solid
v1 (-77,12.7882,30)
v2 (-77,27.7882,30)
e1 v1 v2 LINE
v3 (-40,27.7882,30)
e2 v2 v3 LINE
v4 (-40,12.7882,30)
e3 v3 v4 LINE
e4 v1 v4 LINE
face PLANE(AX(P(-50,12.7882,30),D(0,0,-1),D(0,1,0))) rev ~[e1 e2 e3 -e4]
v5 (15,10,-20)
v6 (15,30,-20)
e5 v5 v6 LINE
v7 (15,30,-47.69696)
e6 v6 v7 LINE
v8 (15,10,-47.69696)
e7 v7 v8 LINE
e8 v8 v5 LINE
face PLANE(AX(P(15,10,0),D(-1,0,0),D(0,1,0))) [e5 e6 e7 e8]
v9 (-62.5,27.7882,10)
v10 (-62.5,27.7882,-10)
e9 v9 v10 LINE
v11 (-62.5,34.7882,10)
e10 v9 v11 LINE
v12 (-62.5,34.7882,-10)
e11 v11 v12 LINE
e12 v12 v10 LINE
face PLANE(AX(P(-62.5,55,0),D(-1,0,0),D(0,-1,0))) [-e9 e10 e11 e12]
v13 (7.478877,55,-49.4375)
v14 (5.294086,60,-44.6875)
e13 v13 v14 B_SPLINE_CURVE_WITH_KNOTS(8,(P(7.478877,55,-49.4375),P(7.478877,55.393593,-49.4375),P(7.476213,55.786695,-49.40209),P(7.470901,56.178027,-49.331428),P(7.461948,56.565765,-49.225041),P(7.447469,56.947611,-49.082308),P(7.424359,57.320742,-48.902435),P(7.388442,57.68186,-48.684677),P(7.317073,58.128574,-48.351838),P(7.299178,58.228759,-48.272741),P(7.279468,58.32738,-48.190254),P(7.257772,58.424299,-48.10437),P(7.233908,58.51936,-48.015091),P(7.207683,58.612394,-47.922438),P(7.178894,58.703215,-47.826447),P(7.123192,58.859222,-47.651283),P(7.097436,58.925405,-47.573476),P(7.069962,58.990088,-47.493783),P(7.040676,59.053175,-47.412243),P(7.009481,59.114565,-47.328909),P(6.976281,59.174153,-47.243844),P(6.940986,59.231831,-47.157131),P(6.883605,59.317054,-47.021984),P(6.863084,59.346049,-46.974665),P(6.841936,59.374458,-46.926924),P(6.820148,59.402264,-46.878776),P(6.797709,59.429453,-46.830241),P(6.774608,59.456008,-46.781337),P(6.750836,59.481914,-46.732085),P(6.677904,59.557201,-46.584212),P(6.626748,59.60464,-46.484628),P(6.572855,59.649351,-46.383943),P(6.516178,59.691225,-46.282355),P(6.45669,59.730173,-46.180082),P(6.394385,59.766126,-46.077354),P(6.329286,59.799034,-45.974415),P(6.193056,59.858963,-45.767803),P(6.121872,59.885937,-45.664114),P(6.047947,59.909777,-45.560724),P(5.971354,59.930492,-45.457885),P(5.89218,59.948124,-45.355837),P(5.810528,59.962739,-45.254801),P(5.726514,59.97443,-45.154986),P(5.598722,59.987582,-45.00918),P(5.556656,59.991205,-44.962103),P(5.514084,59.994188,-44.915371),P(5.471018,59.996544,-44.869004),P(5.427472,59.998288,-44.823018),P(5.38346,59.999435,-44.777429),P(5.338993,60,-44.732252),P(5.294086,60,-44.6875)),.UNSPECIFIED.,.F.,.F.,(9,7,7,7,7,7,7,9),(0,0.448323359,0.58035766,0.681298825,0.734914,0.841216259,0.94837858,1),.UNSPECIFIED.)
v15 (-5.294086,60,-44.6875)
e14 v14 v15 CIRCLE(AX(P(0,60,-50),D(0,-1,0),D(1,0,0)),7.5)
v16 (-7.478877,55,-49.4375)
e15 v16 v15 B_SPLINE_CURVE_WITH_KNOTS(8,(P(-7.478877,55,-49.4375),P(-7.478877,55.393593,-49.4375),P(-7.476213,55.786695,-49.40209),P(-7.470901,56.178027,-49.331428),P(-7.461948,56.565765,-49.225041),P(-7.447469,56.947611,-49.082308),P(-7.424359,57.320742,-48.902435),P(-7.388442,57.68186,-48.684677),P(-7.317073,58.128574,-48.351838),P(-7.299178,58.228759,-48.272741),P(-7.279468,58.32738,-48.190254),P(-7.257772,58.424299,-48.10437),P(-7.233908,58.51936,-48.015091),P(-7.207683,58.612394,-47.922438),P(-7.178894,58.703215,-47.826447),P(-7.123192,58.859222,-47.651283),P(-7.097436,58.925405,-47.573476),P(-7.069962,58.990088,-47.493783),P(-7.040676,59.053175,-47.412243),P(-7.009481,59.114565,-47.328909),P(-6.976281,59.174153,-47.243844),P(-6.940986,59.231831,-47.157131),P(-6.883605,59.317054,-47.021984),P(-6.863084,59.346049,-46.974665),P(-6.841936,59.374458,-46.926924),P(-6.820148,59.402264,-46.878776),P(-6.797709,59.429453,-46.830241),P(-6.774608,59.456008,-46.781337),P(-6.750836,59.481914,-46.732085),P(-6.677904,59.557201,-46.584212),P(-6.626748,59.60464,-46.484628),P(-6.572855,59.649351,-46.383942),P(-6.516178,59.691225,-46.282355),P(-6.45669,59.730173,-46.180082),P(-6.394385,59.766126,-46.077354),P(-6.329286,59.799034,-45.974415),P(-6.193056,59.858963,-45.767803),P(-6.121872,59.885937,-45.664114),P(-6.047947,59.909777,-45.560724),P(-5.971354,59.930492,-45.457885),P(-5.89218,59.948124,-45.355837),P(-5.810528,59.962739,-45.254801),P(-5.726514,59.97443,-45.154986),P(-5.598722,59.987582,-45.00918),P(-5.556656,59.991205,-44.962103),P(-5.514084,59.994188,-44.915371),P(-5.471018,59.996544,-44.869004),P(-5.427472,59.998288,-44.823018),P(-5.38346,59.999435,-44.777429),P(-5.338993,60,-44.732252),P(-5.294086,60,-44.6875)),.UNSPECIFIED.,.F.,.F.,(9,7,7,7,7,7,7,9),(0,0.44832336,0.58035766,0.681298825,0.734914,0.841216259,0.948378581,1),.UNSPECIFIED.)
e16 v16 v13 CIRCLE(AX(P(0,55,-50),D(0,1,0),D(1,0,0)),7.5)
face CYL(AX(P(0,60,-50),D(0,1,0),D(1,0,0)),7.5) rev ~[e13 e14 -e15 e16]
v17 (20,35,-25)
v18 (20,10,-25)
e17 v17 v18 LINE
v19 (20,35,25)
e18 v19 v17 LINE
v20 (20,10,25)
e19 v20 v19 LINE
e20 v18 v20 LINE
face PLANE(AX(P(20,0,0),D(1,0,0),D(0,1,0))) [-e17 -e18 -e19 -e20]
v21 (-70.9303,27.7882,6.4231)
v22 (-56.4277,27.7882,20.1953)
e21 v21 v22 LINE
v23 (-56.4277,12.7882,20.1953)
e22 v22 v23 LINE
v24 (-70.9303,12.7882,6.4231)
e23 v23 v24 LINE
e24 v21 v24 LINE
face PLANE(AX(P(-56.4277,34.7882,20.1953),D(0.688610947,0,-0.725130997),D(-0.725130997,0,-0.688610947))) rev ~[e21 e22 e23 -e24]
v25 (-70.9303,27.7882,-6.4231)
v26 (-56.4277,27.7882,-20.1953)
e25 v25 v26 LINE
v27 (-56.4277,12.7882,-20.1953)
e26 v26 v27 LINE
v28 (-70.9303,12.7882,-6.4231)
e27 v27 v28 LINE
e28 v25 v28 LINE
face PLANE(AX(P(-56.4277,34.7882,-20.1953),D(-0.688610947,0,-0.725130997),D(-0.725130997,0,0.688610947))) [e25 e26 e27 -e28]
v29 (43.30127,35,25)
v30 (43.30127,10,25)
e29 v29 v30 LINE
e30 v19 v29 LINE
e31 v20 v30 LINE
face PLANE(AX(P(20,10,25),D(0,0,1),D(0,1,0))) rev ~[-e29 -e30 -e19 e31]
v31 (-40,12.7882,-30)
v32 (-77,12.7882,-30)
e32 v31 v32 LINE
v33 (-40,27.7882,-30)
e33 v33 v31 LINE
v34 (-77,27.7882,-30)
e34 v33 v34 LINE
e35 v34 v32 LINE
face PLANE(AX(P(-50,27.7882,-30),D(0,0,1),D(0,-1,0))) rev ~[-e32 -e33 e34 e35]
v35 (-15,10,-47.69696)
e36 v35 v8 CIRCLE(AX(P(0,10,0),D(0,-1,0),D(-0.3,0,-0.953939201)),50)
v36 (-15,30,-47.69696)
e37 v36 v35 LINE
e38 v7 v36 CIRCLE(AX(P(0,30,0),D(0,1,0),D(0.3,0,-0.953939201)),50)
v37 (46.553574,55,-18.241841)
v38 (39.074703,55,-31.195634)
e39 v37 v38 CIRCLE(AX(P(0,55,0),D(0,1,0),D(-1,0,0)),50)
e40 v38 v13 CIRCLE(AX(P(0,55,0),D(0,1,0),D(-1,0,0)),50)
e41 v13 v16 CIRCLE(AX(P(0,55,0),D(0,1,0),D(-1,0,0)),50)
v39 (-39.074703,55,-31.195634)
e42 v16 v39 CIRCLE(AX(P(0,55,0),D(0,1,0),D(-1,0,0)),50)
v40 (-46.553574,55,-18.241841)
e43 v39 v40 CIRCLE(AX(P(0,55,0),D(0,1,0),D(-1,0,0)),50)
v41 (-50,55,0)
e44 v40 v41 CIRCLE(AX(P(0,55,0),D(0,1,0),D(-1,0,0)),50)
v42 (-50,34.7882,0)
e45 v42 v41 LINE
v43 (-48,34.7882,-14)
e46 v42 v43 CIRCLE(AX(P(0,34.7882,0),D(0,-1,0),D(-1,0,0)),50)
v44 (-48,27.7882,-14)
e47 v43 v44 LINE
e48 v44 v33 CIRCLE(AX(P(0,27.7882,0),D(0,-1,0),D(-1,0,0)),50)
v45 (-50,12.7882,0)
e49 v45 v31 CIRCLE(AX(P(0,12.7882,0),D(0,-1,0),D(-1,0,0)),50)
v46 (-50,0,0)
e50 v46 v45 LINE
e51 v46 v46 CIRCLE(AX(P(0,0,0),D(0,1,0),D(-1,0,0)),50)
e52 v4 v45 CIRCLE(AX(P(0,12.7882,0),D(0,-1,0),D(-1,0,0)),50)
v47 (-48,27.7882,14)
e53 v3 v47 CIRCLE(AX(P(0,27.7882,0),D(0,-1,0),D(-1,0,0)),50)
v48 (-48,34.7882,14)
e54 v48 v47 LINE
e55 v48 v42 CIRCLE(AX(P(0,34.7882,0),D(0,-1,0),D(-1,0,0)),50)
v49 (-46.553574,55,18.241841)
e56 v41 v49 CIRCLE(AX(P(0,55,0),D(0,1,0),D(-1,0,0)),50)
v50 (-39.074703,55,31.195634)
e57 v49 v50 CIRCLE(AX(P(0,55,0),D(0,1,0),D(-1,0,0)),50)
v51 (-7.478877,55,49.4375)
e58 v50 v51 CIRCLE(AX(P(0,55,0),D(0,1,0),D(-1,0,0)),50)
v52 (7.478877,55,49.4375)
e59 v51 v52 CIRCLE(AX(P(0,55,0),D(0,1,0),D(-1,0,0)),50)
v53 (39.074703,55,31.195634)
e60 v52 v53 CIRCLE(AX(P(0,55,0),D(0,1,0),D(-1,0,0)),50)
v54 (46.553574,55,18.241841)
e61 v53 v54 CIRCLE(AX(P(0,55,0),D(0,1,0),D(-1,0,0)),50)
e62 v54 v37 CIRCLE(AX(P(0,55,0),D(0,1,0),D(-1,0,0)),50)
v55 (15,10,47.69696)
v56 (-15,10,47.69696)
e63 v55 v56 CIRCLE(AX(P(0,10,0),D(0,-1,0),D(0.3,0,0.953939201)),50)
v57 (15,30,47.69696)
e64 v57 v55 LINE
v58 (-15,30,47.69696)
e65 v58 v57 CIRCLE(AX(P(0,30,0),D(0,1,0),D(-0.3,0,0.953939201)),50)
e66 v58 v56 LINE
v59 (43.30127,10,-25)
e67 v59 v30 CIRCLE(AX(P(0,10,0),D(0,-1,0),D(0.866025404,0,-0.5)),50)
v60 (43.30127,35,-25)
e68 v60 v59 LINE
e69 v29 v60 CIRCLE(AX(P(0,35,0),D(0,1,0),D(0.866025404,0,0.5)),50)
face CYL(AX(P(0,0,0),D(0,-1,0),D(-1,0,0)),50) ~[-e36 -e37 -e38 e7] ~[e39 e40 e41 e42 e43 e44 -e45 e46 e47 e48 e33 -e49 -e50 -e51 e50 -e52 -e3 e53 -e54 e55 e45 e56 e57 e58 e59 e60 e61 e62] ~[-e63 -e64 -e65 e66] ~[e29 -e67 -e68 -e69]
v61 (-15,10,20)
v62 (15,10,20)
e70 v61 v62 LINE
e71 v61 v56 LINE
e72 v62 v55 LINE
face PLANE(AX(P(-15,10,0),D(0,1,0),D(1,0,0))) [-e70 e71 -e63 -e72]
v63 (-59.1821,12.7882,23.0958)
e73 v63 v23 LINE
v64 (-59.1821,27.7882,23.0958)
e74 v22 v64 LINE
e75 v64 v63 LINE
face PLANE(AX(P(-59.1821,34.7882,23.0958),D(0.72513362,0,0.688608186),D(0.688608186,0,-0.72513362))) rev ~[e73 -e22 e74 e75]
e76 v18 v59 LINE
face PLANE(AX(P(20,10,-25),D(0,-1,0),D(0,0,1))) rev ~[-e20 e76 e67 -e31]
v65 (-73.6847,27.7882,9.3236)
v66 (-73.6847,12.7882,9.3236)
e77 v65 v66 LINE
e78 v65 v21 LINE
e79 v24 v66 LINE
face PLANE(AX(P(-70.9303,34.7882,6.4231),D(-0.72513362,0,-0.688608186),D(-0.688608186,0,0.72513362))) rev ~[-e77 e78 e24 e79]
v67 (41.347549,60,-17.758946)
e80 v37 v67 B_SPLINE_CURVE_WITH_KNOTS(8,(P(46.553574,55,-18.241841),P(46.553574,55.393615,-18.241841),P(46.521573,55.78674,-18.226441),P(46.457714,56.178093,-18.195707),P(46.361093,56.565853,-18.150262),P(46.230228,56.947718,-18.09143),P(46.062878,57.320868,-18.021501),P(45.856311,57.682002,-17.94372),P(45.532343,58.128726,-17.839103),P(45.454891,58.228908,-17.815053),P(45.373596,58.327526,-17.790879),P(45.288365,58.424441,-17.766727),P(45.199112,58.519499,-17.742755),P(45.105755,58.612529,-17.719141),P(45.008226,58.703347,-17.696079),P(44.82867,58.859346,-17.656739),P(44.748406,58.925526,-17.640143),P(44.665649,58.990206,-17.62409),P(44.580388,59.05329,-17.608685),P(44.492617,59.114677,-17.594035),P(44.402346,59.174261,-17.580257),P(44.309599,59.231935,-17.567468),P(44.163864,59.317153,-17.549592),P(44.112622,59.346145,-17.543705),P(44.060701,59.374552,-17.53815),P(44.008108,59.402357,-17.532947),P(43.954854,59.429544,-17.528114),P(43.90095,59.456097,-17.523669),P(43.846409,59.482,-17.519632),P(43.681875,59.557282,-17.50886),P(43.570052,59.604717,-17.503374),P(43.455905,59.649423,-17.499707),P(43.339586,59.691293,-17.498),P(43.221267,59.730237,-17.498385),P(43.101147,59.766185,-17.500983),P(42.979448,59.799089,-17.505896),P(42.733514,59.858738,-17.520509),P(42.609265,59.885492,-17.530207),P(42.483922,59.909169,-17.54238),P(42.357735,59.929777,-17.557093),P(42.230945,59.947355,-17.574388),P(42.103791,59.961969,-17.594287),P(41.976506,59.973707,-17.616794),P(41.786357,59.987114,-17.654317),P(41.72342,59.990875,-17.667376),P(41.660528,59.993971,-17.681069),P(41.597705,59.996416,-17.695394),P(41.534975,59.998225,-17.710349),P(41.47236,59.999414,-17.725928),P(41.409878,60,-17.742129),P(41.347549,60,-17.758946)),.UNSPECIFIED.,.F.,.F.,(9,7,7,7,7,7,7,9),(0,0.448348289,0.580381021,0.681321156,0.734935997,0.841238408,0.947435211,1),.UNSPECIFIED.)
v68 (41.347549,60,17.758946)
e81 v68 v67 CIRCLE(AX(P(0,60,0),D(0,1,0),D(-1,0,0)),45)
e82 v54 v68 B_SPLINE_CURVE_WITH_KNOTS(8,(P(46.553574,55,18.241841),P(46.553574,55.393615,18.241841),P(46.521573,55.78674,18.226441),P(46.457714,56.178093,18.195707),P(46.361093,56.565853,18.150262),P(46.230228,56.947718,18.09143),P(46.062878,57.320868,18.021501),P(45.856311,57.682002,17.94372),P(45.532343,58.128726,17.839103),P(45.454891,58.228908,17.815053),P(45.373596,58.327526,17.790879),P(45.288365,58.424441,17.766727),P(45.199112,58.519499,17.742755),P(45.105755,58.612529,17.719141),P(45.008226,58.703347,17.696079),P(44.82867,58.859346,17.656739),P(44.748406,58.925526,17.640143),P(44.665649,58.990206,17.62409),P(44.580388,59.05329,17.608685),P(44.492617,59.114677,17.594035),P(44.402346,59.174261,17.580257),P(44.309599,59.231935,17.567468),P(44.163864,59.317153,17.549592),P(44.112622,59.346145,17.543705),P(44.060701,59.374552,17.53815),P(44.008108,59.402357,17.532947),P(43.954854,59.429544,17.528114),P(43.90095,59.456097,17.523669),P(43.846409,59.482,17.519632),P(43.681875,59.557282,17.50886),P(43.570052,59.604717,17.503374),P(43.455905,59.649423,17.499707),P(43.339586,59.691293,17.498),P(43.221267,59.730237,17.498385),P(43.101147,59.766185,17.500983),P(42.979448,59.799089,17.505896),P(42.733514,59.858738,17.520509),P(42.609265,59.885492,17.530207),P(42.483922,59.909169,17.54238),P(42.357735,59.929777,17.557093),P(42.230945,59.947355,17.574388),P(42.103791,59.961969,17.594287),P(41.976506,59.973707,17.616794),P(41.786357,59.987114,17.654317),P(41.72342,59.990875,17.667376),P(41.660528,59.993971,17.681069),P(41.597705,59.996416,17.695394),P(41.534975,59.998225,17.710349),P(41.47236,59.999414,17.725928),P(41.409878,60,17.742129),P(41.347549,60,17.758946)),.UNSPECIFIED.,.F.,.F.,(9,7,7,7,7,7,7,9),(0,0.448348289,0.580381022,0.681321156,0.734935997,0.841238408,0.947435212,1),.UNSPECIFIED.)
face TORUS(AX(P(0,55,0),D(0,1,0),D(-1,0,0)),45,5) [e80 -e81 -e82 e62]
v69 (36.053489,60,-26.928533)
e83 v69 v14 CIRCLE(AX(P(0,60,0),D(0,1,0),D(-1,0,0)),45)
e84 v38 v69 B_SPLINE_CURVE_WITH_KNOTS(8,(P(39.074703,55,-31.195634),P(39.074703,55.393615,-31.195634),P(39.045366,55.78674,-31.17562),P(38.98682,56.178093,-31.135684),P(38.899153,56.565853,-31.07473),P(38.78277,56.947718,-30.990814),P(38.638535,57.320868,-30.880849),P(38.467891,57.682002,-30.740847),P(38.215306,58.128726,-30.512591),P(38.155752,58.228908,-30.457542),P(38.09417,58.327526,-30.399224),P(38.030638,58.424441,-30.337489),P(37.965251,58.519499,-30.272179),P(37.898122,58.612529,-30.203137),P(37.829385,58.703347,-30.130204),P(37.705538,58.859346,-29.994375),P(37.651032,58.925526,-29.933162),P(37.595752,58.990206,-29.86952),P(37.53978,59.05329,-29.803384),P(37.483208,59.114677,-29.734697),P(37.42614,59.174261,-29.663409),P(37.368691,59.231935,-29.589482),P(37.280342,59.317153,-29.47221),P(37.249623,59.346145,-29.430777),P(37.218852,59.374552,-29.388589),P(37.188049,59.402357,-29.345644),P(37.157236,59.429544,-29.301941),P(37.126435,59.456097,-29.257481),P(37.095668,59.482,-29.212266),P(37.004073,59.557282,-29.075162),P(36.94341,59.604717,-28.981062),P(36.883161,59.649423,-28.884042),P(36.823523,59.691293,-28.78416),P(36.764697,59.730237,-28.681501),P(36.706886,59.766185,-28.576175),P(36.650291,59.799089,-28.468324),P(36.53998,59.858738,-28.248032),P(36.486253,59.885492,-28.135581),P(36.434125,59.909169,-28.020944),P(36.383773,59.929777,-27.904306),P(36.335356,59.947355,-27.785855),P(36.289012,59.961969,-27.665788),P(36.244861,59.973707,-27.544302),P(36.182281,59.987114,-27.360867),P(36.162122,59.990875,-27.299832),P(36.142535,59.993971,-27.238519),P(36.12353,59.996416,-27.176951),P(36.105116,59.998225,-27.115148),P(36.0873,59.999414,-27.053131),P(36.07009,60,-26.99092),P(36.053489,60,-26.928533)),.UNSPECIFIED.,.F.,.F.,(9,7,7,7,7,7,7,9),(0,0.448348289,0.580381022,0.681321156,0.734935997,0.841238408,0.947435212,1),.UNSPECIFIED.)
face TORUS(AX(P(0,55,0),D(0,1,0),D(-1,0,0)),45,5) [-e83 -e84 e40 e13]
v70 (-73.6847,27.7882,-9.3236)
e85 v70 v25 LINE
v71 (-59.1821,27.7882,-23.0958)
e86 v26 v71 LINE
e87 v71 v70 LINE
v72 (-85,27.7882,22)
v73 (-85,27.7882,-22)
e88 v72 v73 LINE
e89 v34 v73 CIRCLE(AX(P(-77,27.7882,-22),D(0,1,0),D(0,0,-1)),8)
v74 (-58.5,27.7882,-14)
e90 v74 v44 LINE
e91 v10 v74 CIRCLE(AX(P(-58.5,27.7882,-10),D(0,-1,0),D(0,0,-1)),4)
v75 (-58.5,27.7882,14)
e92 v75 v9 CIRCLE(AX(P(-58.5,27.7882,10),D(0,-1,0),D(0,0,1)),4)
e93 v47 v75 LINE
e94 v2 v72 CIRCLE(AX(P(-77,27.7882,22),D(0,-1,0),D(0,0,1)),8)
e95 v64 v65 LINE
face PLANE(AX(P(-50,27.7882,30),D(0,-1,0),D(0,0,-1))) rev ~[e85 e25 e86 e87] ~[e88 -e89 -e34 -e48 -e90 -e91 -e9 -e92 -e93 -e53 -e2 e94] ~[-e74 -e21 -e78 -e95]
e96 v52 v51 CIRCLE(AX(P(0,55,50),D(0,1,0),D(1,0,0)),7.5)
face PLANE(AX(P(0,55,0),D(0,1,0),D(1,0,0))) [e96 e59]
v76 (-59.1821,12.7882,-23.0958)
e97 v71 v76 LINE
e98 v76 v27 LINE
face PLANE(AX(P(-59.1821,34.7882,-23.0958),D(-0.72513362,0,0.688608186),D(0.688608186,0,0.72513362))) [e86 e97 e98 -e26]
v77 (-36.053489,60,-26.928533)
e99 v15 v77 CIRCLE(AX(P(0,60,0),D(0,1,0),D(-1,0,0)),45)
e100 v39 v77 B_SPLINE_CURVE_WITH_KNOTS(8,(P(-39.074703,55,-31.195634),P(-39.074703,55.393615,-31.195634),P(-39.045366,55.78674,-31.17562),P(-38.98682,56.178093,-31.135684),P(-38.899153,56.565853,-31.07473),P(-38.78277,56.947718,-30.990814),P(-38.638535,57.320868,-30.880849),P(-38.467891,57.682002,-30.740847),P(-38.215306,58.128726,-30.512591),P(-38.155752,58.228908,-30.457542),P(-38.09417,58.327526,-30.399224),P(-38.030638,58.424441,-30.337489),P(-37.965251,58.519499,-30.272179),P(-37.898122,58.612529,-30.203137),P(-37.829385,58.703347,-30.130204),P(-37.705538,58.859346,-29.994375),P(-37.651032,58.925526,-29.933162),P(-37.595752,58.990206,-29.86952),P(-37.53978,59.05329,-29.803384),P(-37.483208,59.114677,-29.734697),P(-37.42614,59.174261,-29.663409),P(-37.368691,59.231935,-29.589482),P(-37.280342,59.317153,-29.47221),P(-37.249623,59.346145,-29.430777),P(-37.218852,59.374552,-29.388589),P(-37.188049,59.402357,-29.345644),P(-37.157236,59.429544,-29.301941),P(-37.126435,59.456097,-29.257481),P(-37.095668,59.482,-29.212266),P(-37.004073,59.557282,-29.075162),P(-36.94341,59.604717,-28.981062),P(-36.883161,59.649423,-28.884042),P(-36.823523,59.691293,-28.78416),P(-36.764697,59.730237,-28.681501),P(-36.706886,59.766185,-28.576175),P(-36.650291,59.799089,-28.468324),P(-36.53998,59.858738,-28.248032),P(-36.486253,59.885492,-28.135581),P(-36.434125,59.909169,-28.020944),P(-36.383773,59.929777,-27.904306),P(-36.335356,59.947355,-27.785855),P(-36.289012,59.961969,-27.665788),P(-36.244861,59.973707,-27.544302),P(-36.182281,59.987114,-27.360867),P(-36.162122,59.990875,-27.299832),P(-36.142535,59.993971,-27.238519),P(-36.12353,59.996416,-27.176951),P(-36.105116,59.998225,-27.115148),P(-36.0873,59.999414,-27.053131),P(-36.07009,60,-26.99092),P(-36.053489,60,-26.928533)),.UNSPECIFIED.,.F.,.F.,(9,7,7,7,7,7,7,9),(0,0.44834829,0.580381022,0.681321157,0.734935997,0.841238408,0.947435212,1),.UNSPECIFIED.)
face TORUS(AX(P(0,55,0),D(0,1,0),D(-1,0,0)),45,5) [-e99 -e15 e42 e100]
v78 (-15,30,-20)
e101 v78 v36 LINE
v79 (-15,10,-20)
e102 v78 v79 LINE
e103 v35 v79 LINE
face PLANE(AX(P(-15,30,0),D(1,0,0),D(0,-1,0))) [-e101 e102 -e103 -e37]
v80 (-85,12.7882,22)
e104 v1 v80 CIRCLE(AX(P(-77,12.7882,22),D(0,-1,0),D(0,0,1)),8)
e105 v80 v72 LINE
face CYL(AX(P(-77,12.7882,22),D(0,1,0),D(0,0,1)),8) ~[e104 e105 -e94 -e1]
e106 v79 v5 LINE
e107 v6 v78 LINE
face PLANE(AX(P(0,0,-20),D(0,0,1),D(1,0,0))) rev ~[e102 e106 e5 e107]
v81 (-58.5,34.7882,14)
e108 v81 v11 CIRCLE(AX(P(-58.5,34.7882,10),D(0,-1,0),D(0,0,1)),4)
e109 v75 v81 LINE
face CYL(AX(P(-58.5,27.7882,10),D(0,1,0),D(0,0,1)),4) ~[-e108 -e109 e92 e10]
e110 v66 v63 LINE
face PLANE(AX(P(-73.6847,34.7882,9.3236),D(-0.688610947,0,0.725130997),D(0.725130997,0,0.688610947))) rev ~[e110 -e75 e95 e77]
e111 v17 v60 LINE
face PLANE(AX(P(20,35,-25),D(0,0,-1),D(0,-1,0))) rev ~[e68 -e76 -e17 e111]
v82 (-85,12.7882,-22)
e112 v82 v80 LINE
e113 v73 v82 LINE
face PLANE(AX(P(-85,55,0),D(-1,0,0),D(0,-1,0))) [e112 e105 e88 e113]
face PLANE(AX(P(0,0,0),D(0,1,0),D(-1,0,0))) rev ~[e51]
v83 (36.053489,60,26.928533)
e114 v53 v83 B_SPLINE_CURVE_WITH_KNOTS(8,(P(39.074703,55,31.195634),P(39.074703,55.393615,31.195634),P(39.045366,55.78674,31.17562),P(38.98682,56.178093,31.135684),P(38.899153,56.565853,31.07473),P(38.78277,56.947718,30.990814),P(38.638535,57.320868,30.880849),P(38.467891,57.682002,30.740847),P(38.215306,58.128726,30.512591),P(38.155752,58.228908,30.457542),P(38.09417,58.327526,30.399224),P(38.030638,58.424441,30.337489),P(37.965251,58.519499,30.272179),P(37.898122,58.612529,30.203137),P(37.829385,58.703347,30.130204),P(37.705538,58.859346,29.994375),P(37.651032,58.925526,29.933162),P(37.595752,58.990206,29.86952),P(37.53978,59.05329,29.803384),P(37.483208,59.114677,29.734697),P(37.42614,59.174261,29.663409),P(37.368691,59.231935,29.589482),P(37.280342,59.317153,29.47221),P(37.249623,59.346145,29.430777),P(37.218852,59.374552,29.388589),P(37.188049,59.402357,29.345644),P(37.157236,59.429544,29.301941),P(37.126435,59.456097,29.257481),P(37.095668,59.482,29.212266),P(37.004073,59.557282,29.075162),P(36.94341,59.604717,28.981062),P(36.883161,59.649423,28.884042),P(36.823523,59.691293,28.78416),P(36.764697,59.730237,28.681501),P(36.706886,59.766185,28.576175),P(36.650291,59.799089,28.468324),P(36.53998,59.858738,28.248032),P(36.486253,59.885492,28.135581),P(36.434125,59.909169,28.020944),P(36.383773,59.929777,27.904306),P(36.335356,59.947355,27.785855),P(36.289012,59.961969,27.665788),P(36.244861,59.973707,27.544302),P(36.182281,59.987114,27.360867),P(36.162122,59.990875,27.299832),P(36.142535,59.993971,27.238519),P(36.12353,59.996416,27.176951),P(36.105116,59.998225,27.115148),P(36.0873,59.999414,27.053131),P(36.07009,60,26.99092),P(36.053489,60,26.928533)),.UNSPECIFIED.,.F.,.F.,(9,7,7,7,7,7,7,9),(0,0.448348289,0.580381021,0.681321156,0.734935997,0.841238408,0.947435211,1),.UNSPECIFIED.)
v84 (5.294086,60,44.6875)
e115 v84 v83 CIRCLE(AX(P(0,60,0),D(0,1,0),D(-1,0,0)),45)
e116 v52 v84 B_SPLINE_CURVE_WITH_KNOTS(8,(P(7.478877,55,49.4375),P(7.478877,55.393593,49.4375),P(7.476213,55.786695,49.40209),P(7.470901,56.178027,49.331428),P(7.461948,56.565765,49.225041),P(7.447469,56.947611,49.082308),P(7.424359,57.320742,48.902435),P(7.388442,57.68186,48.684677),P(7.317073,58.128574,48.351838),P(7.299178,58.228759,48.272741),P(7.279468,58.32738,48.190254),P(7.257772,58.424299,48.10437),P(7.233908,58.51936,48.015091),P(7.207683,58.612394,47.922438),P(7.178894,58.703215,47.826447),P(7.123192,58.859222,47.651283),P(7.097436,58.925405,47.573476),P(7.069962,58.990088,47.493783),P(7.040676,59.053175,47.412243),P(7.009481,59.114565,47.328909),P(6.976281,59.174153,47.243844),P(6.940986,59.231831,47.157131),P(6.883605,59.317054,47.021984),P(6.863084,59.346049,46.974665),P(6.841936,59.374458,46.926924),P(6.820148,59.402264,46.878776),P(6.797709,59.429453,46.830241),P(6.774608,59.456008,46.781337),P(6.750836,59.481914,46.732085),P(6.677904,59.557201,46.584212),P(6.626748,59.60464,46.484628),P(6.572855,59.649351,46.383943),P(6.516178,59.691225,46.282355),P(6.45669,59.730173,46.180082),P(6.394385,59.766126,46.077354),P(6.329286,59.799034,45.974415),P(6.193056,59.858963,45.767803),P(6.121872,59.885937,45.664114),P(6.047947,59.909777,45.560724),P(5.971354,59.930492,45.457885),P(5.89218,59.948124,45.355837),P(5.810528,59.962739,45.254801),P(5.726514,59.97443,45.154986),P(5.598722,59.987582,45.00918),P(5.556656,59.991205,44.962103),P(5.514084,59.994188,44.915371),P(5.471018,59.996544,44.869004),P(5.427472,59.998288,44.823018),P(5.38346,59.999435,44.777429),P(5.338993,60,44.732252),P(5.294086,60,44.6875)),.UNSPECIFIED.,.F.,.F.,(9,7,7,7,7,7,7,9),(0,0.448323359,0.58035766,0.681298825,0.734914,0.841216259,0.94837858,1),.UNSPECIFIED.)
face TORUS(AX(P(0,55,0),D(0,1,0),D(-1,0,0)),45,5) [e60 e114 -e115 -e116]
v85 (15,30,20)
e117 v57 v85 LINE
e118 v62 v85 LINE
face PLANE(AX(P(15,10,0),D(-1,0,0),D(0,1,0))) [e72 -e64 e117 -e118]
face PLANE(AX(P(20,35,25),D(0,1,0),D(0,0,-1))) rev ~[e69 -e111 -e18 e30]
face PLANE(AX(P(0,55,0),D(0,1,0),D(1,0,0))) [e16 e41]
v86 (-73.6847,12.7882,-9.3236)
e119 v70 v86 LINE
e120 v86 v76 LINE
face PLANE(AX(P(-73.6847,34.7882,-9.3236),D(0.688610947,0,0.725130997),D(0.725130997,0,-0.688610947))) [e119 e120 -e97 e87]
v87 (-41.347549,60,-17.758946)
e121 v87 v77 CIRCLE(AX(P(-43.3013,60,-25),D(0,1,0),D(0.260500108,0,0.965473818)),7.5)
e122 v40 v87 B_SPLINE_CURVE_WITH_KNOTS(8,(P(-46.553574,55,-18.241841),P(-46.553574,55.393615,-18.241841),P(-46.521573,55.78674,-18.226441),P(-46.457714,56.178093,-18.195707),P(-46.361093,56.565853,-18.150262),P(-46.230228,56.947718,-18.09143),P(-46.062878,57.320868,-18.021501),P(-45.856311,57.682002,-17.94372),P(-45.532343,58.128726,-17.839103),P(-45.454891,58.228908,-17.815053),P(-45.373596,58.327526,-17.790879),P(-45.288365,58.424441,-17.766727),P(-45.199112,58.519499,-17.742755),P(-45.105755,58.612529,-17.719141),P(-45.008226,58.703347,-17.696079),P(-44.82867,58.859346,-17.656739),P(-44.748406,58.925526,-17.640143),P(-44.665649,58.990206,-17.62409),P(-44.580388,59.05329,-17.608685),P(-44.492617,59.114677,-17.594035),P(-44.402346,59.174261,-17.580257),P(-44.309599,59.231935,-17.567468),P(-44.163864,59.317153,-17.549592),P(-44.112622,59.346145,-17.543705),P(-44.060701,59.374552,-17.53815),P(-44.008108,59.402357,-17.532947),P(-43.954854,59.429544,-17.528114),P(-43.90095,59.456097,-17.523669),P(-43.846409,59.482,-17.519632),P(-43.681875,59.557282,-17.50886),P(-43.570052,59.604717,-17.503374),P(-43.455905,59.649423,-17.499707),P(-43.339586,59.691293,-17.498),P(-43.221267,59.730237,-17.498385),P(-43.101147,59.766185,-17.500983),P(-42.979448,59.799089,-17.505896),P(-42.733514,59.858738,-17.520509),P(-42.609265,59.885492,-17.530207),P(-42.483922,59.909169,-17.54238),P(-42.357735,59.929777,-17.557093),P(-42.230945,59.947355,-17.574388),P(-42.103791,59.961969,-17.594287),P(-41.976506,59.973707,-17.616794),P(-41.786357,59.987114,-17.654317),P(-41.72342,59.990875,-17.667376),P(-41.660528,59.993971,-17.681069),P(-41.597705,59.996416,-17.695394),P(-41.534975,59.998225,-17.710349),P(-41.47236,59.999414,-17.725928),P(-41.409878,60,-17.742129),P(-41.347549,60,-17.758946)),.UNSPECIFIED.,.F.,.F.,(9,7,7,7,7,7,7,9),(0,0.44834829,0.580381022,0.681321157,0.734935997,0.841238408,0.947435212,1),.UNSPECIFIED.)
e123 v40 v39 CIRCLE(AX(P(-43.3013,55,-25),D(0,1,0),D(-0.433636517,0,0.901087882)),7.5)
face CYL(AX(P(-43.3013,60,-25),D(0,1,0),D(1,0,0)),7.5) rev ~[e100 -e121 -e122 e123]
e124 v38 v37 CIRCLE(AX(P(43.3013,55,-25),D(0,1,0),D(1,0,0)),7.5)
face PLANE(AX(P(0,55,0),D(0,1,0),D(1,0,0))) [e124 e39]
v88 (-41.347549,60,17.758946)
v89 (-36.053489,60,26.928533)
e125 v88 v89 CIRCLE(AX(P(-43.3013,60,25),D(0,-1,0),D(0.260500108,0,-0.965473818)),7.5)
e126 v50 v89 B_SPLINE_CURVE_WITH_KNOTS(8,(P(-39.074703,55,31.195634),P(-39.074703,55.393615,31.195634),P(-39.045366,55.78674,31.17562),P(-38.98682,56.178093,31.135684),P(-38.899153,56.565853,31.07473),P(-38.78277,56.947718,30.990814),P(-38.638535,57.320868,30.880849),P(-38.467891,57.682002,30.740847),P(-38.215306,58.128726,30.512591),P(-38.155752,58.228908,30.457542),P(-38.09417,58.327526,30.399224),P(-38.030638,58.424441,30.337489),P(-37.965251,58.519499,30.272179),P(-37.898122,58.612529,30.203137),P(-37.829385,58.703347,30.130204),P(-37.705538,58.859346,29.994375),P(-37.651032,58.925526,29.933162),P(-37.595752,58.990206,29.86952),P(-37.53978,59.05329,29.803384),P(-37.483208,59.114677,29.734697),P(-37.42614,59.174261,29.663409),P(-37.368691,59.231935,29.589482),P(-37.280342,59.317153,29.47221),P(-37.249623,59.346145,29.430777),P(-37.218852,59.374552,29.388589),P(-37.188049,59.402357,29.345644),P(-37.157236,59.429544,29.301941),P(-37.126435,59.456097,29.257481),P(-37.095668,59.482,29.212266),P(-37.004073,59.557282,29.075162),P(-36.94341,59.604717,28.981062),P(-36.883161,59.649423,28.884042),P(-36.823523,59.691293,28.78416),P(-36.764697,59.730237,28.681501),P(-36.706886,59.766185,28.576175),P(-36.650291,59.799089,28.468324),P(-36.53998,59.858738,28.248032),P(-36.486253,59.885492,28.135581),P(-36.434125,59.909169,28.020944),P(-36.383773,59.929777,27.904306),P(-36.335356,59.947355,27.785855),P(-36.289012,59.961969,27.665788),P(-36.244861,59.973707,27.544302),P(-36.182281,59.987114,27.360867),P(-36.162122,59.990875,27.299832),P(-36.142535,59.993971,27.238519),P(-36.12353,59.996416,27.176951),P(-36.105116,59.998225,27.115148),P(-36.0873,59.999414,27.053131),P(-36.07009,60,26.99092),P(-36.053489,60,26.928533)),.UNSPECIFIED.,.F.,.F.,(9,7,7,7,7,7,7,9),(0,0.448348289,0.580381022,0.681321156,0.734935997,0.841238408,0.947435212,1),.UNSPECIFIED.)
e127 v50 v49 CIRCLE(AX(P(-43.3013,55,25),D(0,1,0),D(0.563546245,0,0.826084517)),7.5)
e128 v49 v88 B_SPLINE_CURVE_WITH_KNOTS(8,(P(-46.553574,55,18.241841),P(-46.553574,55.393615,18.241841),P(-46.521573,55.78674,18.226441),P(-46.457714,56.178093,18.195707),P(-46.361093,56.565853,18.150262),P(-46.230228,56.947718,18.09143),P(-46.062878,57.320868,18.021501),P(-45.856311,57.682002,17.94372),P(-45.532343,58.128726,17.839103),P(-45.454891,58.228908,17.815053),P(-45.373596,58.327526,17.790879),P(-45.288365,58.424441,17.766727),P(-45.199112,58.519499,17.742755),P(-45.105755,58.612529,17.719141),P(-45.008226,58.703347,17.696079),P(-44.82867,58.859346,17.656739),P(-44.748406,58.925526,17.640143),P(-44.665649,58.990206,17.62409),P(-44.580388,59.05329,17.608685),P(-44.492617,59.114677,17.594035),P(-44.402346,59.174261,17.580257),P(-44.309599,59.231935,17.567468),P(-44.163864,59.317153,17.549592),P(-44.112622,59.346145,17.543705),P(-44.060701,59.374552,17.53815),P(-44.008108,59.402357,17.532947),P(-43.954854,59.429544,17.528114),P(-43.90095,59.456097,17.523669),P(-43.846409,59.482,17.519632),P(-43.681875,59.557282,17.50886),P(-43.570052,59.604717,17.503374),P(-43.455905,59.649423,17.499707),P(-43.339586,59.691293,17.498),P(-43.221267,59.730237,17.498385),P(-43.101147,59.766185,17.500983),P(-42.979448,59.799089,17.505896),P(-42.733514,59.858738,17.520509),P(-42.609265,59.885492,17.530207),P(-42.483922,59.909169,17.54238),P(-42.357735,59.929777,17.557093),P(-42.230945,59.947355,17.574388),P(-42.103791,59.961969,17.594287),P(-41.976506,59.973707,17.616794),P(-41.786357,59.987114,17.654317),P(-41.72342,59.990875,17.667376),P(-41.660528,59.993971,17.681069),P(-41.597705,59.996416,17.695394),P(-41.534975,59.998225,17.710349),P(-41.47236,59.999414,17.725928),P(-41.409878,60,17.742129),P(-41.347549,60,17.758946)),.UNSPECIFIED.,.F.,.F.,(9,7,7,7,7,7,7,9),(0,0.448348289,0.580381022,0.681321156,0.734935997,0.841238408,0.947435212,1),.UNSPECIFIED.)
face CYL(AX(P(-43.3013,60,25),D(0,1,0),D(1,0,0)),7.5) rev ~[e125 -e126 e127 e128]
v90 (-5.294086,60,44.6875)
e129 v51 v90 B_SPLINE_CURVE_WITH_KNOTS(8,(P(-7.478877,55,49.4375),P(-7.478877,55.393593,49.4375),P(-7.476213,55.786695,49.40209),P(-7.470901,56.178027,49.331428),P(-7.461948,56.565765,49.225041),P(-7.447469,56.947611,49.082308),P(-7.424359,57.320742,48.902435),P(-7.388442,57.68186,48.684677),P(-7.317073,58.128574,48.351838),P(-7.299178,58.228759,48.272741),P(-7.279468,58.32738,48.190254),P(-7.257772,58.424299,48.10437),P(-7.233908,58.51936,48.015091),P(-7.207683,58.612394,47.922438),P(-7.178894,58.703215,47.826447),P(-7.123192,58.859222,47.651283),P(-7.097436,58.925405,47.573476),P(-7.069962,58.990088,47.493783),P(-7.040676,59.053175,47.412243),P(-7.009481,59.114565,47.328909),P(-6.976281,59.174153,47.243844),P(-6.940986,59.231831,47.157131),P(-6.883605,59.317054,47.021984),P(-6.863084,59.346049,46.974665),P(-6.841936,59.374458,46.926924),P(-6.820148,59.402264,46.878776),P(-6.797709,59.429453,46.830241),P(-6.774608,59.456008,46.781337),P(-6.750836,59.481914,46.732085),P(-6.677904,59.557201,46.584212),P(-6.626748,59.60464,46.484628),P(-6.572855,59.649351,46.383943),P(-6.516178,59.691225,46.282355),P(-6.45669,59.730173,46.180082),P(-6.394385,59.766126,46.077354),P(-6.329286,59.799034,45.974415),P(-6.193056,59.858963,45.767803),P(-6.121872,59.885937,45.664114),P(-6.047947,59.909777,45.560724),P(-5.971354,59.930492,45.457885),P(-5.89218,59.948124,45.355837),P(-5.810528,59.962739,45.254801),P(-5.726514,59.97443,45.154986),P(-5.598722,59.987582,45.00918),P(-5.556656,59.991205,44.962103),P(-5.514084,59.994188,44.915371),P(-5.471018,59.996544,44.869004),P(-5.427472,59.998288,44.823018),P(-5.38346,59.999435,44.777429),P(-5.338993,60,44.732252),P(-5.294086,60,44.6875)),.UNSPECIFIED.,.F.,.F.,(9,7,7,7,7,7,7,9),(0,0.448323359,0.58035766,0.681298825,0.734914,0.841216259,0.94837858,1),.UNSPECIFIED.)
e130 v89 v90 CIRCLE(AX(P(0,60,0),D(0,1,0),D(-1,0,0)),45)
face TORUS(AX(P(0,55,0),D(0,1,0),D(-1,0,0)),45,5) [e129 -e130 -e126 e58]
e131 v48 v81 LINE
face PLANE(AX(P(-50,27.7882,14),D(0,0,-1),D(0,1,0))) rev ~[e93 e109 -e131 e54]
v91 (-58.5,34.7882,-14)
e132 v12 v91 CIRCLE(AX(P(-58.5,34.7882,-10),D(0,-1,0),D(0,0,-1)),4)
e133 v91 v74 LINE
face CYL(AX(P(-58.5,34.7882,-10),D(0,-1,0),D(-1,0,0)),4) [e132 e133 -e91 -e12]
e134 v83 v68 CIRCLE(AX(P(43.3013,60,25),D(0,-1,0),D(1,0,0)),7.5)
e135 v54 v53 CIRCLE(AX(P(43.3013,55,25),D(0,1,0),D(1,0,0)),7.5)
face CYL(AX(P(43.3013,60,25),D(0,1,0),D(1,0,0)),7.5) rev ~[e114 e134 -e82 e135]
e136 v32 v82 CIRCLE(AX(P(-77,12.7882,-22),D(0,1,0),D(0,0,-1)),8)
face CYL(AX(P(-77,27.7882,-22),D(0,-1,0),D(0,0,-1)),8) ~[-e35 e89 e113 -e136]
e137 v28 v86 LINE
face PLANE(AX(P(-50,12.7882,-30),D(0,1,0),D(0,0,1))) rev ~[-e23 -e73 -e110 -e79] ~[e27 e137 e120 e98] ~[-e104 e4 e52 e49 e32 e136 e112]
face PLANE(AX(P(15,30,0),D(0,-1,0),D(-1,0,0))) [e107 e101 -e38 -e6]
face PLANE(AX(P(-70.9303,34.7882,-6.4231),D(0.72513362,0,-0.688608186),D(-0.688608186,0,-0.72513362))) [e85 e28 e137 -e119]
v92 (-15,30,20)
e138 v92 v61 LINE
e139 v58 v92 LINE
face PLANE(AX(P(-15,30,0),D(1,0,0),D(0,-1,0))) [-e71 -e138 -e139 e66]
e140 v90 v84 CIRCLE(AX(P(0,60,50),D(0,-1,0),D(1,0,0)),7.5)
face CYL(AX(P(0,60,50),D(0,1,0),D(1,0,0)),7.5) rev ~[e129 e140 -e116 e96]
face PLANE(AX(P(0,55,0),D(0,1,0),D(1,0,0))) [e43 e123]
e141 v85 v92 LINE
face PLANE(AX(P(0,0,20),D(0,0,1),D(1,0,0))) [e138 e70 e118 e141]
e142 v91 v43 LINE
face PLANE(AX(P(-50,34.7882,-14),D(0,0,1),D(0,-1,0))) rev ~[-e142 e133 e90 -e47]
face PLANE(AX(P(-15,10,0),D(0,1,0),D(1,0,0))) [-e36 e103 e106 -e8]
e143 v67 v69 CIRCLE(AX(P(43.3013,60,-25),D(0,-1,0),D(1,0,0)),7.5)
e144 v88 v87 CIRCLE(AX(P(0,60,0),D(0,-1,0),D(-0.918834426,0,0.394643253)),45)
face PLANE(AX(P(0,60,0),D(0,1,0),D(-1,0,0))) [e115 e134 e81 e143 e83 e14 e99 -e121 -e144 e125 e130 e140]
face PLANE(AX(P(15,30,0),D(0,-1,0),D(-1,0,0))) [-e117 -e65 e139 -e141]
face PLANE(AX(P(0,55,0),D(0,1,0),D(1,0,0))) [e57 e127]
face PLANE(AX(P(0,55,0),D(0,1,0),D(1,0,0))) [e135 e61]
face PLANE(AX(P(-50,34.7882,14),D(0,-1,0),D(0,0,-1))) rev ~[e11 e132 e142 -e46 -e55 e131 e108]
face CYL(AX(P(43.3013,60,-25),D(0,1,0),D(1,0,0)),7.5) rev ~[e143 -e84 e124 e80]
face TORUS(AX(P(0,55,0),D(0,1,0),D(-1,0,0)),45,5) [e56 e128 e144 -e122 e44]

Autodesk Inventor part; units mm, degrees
sketch "Sketch1" plane through (0, 0, 0) normal (0, 1, 0) x (-1, 0, 0)
  circle A0 centre (0, 0) radius 50
  dimension "d0" = 100
extrude "Extrusion1" add sketch "Sketch1" along normal blind 60
sketch "Sketch2" plane through (0, 60, 0) normal (0, 1, 0) x (1, 0, 0)
  circle A0 centre (0, 0) radius 50 projected
  circle A1 centre (0, 50) radius 7.5
  circle A2 centre (43.3013, 25) radius 7.5
  circle A3 centre (43.3013, -25) radius 7.5
  circle A4 centre (0, -50) radius 7.5
  circle A5 centre (-43.3013, -25) radius 7.5
  circle A6 centre (-43.3013, 25) radius 7.5
  dimension "d3" = 15
  dimension "d6" = 360
fillet "Fillet1" radius 5 1 edges at (50, 60, 0)
extrude "Extrusion2" cut sketch "Sketch2" against normal blind 5 contours A2 A0 | A0 A2 | A3 A0 | A0 A3 | A1 A0 | A0 A1 | A4 A0 | A0 A4 | A6 A0 | A0 A6 | A5 A0 | A0 A5
ref_plane "Work Plane1" through (-50, 55, 0) normal (-1, 0, 0) x (0, -1, 0)
sketch "Sketch4" plane through (-50, 55, 0) normal (-1, 0, 0) x (0, -1, 0)
  line L0 (27.2118, -30) -> (42.2118, -30)
  line L1 (42.2118, -30) -> (42.2118, 30)
  line L2 (42.2118, 30) -> (27.2118, 30)
  line L3 (27.2118, 30) -> (27.2118, -30)
  point P0 (55, 0)
  dimension "d14" = 60
  dimension "d15" = 15
extrude "Extrusion4" add sketch "Sketch4" along normal mid plane 70
sketch "Sketch5" plane through (-50, 55, 0) normal (-1, 0, 0) x (0, -1, 0)
  line L0 (27.2118, 30) -> (27.2118, -30) projected
  line L1 (27.2118, 14) -> (20.2118, 14)
  line L2 (20.2118, 14) -> (20.2118, -14)
  line L3 (20.2118, -14) -> (27.2118, -14)
  line L4 (27.2118, -14) -> (27.2118, 14)
  point P0 (55, 0)
  dimension "d18" = 7
  dimension "d19" = 28
extrude "Extrusion5" add sketch "Sketch5" along normal mid plane 25
fillet "Fillet2" radius 8 2 edges at (-85, 20.2882, -30) (-85, 20.2882, 30)
sketch "Sketch6" plane through (-62.5, 27.7882, 14) normal (0, 1, 0) x (1, 0, 0)
  point P0 (62.5, 14)
ref_plane "Work Plane2" through (-62.5, 34.7882, 0) normal (0, 1, 0) x (1, 0, 0)
sketch "Sketch7" plane through (-62.5, 34.7882, 0) normal (0, 1, 0) x (1, 0, 0)
  line L0 (6.0723, 20.1953) -> (-8.4303, 6.4231)
  line L1 (-8.4303, 6.4231) -> (-11.1847, 9.3236)
  line L2 (-11.1847, 9.3236) -> (3.3179, 23.0958)
  line L3 (3.3179, 23.0958) -> (6.0723, 20.1953)
  line L4 (11.5119, 0) -> (-21.1929, 0)
  line L5 (6.0723, -20.1953) -> (-8.4303, -6.4231)
  line L6 (-8.4303, -6.4231) -> (-11.1847, -9.3236)
  line L7 (-11.1847, -9.3236) -> (3.3179, -23.0958)
  line L8 (3.3179, -23.0958) -> (6.0723, -20.1953)
  point P0 (62.5, 0)
  dimension "d23" = 20
  dimension "d24" = 4
extrude "Extrusion6" cut sketch "Sketch7" against normal blind 50
fillet "Fillet3" radius 4 2 edges at (-62.5, 31.2882, -14) (-62.5, 31.2882, 14)
sketch "Sketch11" plane through (0, 0, 0) normal (0, 0, 1) x (1, 0, 0)
  line L0 (-15, 10) -> (15, 10)
  line L1 (15, 10) -> (15, 30)
  line L2 (15, 30) -> (-15, 30)
  line L3 (-15, 30) -> (-15, 10)
  point P0 (0, 0)
  dimension "d29" = 30
  dimension "d30" = 20
extrude "Extrusion7" cut sketch "Sketch11" along normal mid plane 100
sketch "Sketch12" plane through (0, 0, 0) normal (0, 0, 1) x (1, 0, 0)
  line L0 (-15, 10) -> (15, 10)
  line L1 (15, 10) -> (15, 30)
  line L2 (15, 30) -> (-15, 30)
  line L3 (-15, 30) -> (-15, 10)
  point P0 (0, 0)
  dimension "d33" = 30
  dimension "d34" = 20
extrude "Extrusion8" add sketch "Sketch12" along normal mid plane 40
ref_plane "Work Plane7" through (22.6604, 3.5721, 0) normal (-0.766, 0.6428, 0) x (0, 0, 1)
ref_plane "Work Plane6" through (15, 10, 0) normal (-0.766, 0.6428, 0) x (0, 0, 1)
ref_plane "Work Plane8" through (20, 0, 0) normal (1, 0, 0) x (0, 1, 0)
sketch "Sketch18" plane through (20, 0, 0) normal (1, 0, 0) x (0, 1, 0)
  line L0 (10, 25) -> (35, 25)
  line L1 (35, 25) -> (35, -25)
  line L2 (35, -25) -> (10, -25)
  line L3 (10, -25) -> (10, 25)
  dimension "d52" = 25
  dimension "d53" = 50
extrude "Extrusion11" cut sketch "Sketch18" along normal blind 30
properties part number "redondogas"
